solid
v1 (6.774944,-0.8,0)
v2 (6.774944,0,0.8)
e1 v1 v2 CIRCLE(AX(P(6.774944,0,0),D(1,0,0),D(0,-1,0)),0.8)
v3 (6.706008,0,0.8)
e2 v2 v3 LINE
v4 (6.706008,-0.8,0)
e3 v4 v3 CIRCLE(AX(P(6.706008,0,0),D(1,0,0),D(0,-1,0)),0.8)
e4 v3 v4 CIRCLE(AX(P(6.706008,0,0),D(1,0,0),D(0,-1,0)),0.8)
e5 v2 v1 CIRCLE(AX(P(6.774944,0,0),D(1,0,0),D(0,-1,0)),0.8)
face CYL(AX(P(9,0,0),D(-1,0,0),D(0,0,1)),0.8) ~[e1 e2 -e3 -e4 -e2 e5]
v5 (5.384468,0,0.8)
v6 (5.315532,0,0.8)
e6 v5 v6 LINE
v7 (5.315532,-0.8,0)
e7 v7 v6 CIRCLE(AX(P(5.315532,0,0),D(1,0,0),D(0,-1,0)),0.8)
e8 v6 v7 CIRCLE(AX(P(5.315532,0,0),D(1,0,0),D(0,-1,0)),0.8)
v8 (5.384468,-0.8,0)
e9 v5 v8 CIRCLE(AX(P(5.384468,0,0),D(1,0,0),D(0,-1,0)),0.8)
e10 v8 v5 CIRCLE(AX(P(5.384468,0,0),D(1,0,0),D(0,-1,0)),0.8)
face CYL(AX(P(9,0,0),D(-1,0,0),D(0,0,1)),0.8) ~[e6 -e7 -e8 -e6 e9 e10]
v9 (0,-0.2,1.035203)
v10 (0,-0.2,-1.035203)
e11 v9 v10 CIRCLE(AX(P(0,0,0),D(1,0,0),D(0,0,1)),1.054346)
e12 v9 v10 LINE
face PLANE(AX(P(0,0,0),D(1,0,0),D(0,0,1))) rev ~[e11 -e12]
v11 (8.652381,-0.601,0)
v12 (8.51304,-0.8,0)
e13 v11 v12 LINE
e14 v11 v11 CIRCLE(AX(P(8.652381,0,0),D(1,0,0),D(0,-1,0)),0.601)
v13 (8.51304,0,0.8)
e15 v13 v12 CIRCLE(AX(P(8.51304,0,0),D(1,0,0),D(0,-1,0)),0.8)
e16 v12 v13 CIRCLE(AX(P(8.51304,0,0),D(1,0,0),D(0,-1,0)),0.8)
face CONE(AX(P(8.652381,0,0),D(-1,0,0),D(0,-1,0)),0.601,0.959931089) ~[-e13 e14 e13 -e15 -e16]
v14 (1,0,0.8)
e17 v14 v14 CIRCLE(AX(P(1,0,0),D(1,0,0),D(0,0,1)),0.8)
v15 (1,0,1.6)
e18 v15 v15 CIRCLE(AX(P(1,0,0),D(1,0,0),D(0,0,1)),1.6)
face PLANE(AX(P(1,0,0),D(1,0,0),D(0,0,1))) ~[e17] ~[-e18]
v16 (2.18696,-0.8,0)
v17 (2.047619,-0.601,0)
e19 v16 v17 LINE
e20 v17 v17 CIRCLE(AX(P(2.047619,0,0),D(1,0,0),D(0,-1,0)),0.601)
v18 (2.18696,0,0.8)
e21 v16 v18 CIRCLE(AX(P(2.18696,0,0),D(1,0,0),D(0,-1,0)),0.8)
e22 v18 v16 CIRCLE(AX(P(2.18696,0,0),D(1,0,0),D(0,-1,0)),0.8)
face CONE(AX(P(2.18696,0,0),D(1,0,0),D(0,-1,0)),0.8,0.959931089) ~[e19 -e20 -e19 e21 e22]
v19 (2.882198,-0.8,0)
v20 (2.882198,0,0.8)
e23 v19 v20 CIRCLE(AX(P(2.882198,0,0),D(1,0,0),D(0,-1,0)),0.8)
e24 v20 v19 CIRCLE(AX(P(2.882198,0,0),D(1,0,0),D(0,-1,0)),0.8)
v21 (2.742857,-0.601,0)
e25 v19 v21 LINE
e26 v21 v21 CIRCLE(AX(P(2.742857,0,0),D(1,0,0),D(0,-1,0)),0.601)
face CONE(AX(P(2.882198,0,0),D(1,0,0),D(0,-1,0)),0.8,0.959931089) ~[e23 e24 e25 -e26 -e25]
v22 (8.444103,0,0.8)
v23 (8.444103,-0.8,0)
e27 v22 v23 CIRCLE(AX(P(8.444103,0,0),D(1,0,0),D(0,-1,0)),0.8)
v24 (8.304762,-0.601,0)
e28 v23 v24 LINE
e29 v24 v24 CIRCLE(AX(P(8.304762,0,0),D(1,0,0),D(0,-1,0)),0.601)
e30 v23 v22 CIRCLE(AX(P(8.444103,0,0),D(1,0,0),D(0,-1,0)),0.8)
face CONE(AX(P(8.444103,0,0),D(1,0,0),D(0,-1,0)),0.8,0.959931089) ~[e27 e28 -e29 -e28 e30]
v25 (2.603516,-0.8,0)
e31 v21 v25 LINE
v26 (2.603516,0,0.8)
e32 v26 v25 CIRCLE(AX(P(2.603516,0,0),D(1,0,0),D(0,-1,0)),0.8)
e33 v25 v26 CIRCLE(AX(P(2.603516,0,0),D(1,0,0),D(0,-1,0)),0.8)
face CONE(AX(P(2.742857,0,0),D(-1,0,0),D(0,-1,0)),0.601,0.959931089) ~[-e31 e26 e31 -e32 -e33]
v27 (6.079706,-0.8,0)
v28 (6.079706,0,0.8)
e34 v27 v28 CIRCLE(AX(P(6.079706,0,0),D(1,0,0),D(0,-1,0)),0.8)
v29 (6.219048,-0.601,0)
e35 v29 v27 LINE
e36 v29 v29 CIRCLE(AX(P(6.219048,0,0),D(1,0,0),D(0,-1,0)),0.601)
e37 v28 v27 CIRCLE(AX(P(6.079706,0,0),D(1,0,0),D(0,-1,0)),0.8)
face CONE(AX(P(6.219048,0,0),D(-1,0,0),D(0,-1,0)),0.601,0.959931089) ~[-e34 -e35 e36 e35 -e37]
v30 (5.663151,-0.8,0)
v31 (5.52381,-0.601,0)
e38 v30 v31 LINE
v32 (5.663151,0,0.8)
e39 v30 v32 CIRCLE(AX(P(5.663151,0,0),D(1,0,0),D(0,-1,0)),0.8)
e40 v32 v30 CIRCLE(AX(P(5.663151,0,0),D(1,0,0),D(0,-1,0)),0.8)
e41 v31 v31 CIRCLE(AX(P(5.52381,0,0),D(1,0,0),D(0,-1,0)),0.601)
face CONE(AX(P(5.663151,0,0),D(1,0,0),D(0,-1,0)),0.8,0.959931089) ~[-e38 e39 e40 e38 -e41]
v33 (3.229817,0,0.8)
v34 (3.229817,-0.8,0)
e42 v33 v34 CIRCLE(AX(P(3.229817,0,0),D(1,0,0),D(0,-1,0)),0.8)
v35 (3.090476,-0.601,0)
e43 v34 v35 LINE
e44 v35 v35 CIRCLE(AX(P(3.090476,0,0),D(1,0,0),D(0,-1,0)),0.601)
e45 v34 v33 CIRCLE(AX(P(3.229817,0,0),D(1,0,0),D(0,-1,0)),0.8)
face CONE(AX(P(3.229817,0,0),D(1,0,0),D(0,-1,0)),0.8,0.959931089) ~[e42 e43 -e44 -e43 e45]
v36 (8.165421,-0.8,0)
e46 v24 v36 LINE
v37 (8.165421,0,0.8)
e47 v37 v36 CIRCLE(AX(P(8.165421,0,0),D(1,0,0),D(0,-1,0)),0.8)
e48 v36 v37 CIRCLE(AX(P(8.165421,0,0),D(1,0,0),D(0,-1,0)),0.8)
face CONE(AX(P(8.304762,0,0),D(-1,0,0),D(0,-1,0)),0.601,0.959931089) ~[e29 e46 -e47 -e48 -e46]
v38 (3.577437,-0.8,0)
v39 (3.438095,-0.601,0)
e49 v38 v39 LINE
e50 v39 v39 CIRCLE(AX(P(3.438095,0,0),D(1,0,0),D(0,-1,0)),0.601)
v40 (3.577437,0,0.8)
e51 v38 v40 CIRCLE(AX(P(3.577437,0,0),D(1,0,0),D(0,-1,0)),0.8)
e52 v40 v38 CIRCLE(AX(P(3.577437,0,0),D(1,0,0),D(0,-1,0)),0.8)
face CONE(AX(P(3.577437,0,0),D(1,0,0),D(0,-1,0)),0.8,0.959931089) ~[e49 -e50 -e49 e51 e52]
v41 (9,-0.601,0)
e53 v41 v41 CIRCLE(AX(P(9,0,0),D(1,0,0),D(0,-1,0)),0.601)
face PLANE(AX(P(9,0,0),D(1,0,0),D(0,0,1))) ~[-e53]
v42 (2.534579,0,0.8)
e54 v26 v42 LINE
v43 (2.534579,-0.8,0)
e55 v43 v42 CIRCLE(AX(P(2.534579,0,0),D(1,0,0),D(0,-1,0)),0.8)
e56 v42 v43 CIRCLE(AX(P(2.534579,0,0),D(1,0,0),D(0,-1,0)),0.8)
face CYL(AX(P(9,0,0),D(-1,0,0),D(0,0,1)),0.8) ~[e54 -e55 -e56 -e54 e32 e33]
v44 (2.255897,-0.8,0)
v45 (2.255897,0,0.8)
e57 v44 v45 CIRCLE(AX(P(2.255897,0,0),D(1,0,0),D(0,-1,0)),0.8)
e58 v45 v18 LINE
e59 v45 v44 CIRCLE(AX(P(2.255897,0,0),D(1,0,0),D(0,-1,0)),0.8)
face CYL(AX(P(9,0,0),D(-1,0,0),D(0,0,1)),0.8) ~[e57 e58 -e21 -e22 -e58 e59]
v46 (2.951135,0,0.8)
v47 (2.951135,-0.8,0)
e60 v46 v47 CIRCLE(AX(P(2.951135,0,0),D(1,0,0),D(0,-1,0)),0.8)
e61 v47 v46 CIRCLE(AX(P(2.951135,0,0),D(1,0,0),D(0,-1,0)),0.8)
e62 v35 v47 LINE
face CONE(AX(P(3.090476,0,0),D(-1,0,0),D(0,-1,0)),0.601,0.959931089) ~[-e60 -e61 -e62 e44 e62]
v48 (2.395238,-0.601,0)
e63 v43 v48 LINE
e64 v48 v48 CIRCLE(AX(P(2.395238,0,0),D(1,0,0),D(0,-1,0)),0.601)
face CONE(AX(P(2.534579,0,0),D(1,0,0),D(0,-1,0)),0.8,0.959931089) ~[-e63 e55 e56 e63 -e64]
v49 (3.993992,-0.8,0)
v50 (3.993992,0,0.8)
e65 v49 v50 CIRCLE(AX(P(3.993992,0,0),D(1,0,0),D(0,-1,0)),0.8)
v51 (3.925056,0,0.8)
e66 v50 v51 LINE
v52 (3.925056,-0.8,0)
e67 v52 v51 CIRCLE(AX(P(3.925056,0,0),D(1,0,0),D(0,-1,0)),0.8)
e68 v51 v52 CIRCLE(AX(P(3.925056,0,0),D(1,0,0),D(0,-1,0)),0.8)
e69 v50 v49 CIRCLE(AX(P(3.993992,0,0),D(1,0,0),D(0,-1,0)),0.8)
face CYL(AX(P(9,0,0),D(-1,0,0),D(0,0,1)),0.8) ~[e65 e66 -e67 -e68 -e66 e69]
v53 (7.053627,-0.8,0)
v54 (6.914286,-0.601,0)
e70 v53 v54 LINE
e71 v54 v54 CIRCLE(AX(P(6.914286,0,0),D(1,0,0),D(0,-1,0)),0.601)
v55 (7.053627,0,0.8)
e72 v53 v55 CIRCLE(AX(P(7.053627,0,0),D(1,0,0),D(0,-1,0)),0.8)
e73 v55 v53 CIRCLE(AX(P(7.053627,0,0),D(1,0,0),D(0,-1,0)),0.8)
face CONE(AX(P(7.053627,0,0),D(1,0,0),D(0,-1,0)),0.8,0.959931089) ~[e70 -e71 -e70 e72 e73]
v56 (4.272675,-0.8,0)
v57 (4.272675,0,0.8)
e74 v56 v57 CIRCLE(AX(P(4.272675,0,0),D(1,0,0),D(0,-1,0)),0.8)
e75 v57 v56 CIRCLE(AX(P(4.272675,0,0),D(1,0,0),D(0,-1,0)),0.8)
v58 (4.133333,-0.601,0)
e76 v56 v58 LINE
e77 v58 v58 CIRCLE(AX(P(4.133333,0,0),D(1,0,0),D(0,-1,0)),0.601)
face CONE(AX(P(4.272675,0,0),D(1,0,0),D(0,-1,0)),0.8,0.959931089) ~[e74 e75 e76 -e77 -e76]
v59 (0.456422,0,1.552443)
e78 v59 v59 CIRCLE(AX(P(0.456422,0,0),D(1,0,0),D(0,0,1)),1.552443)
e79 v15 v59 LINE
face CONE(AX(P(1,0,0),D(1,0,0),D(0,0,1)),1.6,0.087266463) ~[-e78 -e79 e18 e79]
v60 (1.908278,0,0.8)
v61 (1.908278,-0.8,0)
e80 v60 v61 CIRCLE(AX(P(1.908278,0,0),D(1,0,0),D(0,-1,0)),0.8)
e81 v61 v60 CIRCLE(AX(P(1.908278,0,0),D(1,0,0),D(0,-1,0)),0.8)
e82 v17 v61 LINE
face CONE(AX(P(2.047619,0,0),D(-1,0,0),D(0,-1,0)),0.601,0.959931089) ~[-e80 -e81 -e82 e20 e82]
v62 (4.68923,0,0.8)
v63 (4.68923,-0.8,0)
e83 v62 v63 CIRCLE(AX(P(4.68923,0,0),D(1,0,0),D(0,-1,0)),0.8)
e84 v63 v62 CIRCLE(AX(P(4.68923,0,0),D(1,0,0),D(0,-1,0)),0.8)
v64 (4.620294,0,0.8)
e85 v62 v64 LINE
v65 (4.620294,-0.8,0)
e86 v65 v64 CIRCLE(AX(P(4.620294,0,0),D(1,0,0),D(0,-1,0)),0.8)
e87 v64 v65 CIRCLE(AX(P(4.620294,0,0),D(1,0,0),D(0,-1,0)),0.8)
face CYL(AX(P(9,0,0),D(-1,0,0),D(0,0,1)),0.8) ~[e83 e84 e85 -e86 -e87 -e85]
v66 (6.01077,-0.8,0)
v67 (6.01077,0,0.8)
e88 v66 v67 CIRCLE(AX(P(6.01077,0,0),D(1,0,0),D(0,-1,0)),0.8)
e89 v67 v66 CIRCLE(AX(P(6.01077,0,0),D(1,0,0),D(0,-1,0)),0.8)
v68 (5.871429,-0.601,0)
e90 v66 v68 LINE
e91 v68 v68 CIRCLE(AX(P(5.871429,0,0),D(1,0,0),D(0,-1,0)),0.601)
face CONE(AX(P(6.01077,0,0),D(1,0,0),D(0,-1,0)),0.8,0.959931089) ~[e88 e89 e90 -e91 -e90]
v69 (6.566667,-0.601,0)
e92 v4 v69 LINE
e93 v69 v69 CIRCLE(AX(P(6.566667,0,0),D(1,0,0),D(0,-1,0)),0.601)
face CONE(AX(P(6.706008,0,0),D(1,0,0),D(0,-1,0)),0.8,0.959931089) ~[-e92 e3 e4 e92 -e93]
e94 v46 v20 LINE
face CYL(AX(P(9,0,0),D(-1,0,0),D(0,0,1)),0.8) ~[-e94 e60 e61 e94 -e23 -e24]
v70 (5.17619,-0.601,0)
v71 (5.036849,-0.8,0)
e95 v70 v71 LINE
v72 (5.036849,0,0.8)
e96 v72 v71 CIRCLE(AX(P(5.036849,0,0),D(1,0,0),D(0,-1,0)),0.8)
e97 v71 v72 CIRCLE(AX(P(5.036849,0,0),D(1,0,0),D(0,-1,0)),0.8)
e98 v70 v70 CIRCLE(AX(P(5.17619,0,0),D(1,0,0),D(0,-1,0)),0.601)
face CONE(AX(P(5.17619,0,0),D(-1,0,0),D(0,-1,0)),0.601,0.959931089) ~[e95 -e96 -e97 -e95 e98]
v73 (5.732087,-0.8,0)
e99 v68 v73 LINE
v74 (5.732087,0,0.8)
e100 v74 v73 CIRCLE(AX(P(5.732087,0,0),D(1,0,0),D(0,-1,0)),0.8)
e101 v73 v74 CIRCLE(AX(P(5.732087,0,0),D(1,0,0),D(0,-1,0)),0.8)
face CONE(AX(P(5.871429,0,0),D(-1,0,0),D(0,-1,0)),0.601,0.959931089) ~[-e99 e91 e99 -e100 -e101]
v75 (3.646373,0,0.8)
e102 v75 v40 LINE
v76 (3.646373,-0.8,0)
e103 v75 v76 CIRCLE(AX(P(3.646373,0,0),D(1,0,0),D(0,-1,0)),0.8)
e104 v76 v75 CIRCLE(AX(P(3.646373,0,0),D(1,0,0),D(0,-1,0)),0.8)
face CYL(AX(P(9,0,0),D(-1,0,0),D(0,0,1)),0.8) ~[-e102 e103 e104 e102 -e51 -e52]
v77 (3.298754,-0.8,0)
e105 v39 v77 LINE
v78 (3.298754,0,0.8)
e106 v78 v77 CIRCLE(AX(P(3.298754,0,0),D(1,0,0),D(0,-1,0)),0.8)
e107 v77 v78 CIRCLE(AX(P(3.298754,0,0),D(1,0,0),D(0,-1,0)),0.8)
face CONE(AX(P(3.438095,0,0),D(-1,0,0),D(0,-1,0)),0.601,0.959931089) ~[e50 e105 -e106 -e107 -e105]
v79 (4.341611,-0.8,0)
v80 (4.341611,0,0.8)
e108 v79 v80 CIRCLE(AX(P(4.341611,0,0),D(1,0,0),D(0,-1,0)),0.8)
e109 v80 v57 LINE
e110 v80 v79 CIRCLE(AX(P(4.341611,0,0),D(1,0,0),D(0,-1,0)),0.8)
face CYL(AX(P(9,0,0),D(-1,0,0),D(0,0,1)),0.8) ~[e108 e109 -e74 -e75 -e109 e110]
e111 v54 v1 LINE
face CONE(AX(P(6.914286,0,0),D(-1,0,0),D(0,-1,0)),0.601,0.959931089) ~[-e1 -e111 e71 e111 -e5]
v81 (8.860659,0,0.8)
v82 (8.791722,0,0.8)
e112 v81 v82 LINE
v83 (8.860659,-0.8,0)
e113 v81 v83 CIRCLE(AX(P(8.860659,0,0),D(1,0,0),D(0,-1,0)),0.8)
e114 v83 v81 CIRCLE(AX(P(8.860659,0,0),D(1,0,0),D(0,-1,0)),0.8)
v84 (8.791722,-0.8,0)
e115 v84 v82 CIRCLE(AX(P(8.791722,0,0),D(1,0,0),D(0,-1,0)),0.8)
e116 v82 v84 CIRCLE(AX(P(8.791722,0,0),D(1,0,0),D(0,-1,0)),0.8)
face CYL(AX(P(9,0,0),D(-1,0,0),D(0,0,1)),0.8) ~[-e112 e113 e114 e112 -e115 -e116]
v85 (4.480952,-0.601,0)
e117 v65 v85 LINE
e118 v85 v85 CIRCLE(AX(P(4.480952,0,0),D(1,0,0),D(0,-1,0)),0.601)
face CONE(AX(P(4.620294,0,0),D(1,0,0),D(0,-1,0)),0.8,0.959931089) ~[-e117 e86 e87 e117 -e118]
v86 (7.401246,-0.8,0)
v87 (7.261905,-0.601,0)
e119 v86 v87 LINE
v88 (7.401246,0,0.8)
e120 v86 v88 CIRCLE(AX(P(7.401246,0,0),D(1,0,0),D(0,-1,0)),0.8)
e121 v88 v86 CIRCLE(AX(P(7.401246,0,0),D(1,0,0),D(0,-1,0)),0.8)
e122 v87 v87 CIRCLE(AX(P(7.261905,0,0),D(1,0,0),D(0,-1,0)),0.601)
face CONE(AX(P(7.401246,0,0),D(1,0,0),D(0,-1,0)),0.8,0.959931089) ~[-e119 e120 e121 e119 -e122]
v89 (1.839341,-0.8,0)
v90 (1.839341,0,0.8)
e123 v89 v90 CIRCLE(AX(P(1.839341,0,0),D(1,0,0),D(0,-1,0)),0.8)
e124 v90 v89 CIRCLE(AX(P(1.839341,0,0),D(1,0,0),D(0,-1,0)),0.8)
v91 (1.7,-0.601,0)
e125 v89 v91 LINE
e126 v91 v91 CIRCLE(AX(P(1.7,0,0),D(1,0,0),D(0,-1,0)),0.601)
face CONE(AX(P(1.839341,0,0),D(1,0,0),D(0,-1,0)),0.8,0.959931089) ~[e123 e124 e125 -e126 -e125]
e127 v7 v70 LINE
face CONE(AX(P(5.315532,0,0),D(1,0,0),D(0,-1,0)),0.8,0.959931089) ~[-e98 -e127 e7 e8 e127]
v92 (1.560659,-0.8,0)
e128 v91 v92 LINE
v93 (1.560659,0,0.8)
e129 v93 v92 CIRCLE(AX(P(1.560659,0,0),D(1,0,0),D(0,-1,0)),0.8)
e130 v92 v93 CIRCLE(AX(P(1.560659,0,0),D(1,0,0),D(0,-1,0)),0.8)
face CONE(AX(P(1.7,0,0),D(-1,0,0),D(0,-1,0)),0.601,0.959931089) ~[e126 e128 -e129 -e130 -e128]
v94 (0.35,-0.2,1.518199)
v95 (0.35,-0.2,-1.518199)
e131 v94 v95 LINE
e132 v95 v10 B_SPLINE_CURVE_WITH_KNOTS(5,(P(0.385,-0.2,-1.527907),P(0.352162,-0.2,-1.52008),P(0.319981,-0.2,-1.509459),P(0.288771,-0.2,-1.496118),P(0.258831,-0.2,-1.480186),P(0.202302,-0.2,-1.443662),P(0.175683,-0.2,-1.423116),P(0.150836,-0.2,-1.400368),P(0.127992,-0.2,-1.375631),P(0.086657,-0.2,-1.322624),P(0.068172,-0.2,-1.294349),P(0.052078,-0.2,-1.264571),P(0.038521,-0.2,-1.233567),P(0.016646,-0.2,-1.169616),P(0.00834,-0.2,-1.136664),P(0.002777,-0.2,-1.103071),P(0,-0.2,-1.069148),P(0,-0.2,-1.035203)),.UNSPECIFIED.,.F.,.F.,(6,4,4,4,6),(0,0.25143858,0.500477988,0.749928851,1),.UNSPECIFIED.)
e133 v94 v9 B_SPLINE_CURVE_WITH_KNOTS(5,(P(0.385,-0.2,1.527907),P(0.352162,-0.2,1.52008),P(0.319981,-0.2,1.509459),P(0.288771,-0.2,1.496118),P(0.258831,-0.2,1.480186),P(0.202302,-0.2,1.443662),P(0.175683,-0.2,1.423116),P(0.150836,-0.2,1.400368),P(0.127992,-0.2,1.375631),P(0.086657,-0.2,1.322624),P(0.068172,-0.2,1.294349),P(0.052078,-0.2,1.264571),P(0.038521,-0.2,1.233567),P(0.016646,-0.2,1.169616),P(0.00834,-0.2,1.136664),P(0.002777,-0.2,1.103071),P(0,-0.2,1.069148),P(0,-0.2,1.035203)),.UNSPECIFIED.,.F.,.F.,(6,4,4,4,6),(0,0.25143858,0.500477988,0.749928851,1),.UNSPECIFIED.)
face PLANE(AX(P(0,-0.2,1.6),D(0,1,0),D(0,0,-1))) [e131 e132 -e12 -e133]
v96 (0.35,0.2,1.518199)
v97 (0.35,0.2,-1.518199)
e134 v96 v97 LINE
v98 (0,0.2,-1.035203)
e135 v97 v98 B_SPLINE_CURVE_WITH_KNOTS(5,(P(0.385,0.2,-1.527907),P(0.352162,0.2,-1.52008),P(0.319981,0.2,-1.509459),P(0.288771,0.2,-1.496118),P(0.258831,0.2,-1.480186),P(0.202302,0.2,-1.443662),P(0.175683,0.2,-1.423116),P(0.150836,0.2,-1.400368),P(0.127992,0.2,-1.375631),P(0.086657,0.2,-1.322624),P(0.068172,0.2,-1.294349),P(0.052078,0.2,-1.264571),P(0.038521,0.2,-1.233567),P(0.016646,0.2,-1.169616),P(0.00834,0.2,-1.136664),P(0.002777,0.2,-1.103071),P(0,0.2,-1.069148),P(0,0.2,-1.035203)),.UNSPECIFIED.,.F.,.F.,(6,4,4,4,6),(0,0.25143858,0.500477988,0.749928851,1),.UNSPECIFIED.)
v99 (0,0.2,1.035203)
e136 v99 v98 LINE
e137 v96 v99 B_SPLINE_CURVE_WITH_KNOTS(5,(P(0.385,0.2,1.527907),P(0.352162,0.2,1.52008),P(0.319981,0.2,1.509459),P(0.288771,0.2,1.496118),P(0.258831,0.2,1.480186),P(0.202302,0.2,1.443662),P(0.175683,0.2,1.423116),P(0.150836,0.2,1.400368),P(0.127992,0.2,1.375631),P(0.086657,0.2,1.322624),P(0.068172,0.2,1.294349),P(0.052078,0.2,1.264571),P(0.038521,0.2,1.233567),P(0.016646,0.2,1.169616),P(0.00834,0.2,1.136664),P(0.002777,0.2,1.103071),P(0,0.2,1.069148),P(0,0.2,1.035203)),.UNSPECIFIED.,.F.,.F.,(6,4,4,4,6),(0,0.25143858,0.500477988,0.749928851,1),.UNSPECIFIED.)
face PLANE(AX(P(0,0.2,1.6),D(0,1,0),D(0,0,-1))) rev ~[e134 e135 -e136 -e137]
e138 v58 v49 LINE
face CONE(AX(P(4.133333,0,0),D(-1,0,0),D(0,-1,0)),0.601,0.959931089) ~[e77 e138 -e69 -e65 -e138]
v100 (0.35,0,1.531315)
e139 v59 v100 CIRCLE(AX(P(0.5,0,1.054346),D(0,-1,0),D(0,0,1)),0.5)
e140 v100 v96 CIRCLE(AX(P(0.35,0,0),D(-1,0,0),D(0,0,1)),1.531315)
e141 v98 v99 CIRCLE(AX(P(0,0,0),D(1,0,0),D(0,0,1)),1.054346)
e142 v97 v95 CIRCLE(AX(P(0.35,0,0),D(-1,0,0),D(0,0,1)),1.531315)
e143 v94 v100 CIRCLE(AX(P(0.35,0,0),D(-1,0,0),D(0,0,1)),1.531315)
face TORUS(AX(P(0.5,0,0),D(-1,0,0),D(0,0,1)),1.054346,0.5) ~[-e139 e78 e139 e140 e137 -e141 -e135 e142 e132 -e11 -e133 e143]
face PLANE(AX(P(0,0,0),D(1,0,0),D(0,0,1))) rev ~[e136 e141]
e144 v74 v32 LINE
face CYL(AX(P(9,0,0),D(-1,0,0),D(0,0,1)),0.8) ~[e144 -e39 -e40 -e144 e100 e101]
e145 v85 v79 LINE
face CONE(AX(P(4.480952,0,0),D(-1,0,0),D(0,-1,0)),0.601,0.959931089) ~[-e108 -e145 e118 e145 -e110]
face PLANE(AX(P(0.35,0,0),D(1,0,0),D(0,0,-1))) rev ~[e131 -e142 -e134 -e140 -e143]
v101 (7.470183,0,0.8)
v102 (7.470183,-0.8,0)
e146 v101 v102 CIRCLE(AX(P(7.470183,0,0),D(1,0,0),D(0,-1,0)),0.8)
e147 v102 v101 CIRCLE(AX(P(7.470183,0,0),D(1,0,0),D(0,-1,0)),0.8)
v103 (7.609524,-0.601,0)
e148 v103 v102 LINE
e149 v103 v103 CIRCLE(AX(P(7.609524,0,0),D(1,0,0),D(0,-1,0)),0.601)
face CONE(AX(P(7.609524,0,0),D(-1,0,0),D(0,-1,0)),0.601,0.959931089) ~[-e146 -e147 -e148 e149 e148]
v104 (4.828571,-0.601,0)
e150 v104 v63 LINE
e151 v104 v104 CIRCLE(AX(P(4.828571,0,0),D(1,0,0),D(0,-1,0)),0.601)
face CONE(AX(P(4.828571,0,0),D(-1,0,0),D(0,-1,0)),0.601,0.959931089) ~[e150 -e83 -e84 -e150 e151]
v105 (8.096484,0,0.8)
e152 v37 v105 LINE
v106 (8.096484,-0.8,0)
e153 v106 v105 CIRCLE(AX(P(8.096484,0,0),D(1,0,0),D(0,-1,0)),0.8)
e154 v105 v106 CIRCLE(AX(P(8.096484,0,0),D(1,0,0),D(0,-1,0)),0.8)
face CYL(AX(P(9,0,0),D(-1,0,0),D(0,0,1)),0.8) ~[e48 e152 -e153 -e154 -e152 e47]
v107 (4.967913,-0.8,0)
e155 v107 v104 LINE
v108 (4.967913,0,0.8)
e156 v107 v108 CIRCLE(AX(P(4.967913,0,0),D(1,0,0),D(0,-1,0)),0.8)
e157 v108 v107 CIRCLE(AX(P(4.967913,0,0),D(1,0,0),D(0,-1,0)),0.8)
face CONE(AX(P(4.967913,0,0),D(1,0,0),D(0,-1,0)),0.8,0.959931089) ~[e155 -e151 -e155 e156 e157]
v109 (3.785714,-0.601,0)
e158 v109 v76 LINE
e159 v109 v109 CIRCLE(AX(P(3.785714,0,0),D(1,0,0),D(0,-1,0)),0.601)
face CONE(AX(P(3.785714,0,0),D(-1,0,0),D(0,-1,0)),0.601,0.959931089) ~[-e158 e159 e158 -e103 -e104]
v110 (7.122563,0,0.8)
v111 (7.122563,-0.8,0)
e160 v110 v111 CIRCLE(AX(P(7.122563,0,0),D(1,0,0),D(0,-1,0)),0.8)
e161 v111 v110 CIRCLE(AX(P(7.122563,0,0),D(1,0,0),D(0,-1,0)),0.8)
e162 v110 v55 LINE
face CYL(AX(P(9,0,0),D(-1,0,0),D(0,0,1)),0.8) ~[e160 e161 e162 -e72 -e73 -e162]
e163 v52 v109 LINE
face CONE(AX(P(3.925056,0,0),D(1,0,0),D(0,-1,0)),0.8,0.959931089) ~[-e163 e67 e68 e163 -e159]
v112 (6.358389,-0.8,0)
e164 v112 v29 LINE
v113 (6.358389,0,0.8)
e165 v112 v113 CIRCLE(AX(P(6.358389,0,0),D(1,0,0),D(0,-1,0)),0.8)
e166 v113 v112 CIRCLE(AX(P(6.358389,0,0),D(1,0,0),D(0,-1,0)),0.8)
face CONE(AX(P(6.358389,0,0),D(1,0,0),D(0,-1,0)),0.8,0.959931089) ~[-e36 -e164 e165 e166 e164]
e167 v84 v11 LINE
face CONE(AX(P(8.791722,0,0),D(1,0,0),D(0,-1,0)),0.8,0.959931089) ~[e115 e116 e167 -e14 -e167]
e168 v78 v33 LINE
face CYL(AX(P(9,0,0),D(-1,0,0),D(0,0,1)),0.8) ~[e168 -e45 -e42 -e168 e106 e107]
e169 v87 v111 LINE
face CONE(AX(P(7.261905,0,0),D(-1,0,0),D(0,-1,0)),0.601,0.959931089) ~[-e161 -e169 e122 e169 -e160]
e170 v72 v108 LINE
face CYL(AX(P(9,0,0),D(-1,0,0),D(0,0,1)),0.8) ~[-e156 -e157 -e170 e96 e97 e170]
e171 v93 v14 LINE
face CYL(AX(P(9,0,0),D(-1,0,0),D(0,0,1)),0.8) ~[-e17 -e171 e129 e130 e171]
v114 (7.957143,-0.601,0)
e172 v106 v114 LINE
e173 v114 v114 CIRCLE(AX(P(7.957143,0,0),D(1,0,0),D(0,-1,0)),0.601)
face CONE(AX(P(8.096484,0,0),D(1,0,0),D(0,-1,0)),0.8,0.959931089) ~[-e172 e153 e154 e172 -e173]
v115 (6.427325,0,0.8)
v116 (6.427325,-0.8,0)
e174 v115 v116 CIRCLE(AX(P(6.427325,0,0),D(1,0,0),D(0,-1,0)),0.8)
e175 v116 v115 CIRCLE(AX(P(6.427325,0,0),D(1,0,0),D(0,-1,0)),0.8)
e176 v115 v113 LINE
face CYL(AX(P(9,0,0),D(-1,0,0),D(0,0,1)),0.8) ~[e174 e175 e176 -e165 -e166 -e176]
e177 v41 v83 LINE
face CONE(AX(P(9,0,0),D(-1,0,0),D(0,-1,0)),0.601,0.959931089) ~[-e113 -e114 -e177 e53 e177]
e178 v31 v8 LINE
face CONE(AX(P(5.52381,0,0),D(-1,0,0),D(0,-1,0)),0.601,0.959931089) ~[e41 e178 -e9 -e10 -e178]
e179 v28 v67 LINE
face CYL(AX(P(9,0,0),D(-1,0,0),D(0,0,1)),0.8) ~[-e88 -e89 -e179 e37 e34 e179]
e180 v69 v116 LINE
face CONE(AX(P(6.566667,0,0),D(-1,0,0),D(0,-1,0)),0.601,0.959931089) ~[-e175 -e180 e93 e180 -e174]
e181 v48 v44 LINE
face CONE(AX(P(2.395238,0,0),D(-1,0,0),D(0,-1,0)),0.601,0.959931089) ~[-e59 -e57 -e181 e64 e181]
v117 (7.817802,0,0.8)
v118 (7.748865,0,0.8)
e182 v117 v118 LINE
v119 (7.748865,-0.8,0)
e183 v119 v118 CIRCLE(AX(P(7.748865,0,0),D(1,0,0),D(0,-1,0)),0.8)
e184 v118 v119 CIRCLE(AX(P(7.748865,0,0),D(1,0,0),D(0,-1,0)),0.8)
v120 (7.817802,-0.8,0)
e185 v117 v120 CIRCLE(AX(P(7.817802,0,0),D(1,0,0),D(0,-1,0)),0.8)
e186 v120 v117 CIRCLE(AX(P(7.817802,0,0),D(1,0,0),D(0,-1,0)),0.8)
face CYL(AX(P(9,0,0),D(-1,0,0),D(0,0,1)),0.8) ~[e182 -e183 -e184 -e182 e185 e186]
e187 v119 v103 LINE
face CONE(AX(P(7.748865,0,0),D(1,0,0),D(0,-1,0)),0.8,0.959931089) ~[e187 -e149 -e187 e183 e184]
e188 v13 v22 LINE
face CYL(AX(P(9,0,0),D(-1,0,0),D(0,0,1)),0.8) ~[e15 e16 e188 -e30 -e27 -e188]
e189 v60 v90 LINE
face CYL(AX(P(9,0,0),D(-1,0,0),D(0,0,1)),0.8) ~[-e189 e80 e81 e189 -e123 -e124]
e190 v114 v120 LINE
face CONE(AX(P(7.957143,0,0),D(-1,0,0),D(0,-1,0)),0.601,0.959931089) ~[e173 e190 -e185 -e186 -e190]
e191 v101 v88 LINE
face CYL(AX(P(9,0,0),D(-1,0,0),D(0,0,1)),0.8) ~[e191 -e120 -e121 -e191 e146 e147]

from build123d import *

# Parameters (mm, degrees)
FILLET2_R       = 0.5
SKETCH2_W       = 3.2
SKETCH2_H       = 0.4
SLOT_DEPTH      = 0.35
THDSCHPAT_COUNT = 22
THDSCHPAT_PITCH = 0.347619048


with BuildPart() as part:
    # BodySke → Base-Revolve (revolve)
    with BuildSketch(Plane.XY, mode=Mode.PRIVATE) as base_revolve_sk:
        Polygon((1, 0.8), (1, 1.6), (0, 1.512511336), (0, 0), (9, 0), (9, 0.8), align=None)
    revolve(base_revolve_sk.sketch.rotate(Axis((-25.4, 0, 0), (1, 0, 0)), 90), axis=Axis((-25.4, 0, 0), (1, 0, 0)))

    # Fillet2
    fillet2_edges = [part.edges().sort_by_distance(p)[0] for p in [
        (0, 0, -1.512511336),
    ]]
    fillet(fillet2_edges, radius=FILLET2_R)

    # Sketch2 → Slot (cut)
    with BuildSketch(Plane(origin=(0, 0, 0), x_dir=(0, 0, -1), z_dir=(1, 0, 0))):
        Rectangle(SKETCH2_W, SKETCH2_H)
    extrude(amount=SLOT_DEPTH, mode=Mode.SUBTRACT)

    # ThdSchSke → ThreadSchematic (revolve, cut)
    with BuildSketch(Plane.XY):
        Polygon((1.7, -0.601), (1.5606587, -0.8), (1.5606587, -1), (1.8393413, -1), (1.8393413, -0.8), align=None)
    threadschematic = revolve(axis=Axis((-3.175, 0, 0), (1, 0, 0)), mode=Mode.SUBTRACT)

    # ThdSchPat: ThreadSchematic ×22
    with Locations(*[(i * THDSCHPAT_PITCH, 0, 0) for i in range(1, THDSCHPAT_COUNT)]):
        add(threadschematic, mode=Mode.SUBTRACT)


solid = part.part
